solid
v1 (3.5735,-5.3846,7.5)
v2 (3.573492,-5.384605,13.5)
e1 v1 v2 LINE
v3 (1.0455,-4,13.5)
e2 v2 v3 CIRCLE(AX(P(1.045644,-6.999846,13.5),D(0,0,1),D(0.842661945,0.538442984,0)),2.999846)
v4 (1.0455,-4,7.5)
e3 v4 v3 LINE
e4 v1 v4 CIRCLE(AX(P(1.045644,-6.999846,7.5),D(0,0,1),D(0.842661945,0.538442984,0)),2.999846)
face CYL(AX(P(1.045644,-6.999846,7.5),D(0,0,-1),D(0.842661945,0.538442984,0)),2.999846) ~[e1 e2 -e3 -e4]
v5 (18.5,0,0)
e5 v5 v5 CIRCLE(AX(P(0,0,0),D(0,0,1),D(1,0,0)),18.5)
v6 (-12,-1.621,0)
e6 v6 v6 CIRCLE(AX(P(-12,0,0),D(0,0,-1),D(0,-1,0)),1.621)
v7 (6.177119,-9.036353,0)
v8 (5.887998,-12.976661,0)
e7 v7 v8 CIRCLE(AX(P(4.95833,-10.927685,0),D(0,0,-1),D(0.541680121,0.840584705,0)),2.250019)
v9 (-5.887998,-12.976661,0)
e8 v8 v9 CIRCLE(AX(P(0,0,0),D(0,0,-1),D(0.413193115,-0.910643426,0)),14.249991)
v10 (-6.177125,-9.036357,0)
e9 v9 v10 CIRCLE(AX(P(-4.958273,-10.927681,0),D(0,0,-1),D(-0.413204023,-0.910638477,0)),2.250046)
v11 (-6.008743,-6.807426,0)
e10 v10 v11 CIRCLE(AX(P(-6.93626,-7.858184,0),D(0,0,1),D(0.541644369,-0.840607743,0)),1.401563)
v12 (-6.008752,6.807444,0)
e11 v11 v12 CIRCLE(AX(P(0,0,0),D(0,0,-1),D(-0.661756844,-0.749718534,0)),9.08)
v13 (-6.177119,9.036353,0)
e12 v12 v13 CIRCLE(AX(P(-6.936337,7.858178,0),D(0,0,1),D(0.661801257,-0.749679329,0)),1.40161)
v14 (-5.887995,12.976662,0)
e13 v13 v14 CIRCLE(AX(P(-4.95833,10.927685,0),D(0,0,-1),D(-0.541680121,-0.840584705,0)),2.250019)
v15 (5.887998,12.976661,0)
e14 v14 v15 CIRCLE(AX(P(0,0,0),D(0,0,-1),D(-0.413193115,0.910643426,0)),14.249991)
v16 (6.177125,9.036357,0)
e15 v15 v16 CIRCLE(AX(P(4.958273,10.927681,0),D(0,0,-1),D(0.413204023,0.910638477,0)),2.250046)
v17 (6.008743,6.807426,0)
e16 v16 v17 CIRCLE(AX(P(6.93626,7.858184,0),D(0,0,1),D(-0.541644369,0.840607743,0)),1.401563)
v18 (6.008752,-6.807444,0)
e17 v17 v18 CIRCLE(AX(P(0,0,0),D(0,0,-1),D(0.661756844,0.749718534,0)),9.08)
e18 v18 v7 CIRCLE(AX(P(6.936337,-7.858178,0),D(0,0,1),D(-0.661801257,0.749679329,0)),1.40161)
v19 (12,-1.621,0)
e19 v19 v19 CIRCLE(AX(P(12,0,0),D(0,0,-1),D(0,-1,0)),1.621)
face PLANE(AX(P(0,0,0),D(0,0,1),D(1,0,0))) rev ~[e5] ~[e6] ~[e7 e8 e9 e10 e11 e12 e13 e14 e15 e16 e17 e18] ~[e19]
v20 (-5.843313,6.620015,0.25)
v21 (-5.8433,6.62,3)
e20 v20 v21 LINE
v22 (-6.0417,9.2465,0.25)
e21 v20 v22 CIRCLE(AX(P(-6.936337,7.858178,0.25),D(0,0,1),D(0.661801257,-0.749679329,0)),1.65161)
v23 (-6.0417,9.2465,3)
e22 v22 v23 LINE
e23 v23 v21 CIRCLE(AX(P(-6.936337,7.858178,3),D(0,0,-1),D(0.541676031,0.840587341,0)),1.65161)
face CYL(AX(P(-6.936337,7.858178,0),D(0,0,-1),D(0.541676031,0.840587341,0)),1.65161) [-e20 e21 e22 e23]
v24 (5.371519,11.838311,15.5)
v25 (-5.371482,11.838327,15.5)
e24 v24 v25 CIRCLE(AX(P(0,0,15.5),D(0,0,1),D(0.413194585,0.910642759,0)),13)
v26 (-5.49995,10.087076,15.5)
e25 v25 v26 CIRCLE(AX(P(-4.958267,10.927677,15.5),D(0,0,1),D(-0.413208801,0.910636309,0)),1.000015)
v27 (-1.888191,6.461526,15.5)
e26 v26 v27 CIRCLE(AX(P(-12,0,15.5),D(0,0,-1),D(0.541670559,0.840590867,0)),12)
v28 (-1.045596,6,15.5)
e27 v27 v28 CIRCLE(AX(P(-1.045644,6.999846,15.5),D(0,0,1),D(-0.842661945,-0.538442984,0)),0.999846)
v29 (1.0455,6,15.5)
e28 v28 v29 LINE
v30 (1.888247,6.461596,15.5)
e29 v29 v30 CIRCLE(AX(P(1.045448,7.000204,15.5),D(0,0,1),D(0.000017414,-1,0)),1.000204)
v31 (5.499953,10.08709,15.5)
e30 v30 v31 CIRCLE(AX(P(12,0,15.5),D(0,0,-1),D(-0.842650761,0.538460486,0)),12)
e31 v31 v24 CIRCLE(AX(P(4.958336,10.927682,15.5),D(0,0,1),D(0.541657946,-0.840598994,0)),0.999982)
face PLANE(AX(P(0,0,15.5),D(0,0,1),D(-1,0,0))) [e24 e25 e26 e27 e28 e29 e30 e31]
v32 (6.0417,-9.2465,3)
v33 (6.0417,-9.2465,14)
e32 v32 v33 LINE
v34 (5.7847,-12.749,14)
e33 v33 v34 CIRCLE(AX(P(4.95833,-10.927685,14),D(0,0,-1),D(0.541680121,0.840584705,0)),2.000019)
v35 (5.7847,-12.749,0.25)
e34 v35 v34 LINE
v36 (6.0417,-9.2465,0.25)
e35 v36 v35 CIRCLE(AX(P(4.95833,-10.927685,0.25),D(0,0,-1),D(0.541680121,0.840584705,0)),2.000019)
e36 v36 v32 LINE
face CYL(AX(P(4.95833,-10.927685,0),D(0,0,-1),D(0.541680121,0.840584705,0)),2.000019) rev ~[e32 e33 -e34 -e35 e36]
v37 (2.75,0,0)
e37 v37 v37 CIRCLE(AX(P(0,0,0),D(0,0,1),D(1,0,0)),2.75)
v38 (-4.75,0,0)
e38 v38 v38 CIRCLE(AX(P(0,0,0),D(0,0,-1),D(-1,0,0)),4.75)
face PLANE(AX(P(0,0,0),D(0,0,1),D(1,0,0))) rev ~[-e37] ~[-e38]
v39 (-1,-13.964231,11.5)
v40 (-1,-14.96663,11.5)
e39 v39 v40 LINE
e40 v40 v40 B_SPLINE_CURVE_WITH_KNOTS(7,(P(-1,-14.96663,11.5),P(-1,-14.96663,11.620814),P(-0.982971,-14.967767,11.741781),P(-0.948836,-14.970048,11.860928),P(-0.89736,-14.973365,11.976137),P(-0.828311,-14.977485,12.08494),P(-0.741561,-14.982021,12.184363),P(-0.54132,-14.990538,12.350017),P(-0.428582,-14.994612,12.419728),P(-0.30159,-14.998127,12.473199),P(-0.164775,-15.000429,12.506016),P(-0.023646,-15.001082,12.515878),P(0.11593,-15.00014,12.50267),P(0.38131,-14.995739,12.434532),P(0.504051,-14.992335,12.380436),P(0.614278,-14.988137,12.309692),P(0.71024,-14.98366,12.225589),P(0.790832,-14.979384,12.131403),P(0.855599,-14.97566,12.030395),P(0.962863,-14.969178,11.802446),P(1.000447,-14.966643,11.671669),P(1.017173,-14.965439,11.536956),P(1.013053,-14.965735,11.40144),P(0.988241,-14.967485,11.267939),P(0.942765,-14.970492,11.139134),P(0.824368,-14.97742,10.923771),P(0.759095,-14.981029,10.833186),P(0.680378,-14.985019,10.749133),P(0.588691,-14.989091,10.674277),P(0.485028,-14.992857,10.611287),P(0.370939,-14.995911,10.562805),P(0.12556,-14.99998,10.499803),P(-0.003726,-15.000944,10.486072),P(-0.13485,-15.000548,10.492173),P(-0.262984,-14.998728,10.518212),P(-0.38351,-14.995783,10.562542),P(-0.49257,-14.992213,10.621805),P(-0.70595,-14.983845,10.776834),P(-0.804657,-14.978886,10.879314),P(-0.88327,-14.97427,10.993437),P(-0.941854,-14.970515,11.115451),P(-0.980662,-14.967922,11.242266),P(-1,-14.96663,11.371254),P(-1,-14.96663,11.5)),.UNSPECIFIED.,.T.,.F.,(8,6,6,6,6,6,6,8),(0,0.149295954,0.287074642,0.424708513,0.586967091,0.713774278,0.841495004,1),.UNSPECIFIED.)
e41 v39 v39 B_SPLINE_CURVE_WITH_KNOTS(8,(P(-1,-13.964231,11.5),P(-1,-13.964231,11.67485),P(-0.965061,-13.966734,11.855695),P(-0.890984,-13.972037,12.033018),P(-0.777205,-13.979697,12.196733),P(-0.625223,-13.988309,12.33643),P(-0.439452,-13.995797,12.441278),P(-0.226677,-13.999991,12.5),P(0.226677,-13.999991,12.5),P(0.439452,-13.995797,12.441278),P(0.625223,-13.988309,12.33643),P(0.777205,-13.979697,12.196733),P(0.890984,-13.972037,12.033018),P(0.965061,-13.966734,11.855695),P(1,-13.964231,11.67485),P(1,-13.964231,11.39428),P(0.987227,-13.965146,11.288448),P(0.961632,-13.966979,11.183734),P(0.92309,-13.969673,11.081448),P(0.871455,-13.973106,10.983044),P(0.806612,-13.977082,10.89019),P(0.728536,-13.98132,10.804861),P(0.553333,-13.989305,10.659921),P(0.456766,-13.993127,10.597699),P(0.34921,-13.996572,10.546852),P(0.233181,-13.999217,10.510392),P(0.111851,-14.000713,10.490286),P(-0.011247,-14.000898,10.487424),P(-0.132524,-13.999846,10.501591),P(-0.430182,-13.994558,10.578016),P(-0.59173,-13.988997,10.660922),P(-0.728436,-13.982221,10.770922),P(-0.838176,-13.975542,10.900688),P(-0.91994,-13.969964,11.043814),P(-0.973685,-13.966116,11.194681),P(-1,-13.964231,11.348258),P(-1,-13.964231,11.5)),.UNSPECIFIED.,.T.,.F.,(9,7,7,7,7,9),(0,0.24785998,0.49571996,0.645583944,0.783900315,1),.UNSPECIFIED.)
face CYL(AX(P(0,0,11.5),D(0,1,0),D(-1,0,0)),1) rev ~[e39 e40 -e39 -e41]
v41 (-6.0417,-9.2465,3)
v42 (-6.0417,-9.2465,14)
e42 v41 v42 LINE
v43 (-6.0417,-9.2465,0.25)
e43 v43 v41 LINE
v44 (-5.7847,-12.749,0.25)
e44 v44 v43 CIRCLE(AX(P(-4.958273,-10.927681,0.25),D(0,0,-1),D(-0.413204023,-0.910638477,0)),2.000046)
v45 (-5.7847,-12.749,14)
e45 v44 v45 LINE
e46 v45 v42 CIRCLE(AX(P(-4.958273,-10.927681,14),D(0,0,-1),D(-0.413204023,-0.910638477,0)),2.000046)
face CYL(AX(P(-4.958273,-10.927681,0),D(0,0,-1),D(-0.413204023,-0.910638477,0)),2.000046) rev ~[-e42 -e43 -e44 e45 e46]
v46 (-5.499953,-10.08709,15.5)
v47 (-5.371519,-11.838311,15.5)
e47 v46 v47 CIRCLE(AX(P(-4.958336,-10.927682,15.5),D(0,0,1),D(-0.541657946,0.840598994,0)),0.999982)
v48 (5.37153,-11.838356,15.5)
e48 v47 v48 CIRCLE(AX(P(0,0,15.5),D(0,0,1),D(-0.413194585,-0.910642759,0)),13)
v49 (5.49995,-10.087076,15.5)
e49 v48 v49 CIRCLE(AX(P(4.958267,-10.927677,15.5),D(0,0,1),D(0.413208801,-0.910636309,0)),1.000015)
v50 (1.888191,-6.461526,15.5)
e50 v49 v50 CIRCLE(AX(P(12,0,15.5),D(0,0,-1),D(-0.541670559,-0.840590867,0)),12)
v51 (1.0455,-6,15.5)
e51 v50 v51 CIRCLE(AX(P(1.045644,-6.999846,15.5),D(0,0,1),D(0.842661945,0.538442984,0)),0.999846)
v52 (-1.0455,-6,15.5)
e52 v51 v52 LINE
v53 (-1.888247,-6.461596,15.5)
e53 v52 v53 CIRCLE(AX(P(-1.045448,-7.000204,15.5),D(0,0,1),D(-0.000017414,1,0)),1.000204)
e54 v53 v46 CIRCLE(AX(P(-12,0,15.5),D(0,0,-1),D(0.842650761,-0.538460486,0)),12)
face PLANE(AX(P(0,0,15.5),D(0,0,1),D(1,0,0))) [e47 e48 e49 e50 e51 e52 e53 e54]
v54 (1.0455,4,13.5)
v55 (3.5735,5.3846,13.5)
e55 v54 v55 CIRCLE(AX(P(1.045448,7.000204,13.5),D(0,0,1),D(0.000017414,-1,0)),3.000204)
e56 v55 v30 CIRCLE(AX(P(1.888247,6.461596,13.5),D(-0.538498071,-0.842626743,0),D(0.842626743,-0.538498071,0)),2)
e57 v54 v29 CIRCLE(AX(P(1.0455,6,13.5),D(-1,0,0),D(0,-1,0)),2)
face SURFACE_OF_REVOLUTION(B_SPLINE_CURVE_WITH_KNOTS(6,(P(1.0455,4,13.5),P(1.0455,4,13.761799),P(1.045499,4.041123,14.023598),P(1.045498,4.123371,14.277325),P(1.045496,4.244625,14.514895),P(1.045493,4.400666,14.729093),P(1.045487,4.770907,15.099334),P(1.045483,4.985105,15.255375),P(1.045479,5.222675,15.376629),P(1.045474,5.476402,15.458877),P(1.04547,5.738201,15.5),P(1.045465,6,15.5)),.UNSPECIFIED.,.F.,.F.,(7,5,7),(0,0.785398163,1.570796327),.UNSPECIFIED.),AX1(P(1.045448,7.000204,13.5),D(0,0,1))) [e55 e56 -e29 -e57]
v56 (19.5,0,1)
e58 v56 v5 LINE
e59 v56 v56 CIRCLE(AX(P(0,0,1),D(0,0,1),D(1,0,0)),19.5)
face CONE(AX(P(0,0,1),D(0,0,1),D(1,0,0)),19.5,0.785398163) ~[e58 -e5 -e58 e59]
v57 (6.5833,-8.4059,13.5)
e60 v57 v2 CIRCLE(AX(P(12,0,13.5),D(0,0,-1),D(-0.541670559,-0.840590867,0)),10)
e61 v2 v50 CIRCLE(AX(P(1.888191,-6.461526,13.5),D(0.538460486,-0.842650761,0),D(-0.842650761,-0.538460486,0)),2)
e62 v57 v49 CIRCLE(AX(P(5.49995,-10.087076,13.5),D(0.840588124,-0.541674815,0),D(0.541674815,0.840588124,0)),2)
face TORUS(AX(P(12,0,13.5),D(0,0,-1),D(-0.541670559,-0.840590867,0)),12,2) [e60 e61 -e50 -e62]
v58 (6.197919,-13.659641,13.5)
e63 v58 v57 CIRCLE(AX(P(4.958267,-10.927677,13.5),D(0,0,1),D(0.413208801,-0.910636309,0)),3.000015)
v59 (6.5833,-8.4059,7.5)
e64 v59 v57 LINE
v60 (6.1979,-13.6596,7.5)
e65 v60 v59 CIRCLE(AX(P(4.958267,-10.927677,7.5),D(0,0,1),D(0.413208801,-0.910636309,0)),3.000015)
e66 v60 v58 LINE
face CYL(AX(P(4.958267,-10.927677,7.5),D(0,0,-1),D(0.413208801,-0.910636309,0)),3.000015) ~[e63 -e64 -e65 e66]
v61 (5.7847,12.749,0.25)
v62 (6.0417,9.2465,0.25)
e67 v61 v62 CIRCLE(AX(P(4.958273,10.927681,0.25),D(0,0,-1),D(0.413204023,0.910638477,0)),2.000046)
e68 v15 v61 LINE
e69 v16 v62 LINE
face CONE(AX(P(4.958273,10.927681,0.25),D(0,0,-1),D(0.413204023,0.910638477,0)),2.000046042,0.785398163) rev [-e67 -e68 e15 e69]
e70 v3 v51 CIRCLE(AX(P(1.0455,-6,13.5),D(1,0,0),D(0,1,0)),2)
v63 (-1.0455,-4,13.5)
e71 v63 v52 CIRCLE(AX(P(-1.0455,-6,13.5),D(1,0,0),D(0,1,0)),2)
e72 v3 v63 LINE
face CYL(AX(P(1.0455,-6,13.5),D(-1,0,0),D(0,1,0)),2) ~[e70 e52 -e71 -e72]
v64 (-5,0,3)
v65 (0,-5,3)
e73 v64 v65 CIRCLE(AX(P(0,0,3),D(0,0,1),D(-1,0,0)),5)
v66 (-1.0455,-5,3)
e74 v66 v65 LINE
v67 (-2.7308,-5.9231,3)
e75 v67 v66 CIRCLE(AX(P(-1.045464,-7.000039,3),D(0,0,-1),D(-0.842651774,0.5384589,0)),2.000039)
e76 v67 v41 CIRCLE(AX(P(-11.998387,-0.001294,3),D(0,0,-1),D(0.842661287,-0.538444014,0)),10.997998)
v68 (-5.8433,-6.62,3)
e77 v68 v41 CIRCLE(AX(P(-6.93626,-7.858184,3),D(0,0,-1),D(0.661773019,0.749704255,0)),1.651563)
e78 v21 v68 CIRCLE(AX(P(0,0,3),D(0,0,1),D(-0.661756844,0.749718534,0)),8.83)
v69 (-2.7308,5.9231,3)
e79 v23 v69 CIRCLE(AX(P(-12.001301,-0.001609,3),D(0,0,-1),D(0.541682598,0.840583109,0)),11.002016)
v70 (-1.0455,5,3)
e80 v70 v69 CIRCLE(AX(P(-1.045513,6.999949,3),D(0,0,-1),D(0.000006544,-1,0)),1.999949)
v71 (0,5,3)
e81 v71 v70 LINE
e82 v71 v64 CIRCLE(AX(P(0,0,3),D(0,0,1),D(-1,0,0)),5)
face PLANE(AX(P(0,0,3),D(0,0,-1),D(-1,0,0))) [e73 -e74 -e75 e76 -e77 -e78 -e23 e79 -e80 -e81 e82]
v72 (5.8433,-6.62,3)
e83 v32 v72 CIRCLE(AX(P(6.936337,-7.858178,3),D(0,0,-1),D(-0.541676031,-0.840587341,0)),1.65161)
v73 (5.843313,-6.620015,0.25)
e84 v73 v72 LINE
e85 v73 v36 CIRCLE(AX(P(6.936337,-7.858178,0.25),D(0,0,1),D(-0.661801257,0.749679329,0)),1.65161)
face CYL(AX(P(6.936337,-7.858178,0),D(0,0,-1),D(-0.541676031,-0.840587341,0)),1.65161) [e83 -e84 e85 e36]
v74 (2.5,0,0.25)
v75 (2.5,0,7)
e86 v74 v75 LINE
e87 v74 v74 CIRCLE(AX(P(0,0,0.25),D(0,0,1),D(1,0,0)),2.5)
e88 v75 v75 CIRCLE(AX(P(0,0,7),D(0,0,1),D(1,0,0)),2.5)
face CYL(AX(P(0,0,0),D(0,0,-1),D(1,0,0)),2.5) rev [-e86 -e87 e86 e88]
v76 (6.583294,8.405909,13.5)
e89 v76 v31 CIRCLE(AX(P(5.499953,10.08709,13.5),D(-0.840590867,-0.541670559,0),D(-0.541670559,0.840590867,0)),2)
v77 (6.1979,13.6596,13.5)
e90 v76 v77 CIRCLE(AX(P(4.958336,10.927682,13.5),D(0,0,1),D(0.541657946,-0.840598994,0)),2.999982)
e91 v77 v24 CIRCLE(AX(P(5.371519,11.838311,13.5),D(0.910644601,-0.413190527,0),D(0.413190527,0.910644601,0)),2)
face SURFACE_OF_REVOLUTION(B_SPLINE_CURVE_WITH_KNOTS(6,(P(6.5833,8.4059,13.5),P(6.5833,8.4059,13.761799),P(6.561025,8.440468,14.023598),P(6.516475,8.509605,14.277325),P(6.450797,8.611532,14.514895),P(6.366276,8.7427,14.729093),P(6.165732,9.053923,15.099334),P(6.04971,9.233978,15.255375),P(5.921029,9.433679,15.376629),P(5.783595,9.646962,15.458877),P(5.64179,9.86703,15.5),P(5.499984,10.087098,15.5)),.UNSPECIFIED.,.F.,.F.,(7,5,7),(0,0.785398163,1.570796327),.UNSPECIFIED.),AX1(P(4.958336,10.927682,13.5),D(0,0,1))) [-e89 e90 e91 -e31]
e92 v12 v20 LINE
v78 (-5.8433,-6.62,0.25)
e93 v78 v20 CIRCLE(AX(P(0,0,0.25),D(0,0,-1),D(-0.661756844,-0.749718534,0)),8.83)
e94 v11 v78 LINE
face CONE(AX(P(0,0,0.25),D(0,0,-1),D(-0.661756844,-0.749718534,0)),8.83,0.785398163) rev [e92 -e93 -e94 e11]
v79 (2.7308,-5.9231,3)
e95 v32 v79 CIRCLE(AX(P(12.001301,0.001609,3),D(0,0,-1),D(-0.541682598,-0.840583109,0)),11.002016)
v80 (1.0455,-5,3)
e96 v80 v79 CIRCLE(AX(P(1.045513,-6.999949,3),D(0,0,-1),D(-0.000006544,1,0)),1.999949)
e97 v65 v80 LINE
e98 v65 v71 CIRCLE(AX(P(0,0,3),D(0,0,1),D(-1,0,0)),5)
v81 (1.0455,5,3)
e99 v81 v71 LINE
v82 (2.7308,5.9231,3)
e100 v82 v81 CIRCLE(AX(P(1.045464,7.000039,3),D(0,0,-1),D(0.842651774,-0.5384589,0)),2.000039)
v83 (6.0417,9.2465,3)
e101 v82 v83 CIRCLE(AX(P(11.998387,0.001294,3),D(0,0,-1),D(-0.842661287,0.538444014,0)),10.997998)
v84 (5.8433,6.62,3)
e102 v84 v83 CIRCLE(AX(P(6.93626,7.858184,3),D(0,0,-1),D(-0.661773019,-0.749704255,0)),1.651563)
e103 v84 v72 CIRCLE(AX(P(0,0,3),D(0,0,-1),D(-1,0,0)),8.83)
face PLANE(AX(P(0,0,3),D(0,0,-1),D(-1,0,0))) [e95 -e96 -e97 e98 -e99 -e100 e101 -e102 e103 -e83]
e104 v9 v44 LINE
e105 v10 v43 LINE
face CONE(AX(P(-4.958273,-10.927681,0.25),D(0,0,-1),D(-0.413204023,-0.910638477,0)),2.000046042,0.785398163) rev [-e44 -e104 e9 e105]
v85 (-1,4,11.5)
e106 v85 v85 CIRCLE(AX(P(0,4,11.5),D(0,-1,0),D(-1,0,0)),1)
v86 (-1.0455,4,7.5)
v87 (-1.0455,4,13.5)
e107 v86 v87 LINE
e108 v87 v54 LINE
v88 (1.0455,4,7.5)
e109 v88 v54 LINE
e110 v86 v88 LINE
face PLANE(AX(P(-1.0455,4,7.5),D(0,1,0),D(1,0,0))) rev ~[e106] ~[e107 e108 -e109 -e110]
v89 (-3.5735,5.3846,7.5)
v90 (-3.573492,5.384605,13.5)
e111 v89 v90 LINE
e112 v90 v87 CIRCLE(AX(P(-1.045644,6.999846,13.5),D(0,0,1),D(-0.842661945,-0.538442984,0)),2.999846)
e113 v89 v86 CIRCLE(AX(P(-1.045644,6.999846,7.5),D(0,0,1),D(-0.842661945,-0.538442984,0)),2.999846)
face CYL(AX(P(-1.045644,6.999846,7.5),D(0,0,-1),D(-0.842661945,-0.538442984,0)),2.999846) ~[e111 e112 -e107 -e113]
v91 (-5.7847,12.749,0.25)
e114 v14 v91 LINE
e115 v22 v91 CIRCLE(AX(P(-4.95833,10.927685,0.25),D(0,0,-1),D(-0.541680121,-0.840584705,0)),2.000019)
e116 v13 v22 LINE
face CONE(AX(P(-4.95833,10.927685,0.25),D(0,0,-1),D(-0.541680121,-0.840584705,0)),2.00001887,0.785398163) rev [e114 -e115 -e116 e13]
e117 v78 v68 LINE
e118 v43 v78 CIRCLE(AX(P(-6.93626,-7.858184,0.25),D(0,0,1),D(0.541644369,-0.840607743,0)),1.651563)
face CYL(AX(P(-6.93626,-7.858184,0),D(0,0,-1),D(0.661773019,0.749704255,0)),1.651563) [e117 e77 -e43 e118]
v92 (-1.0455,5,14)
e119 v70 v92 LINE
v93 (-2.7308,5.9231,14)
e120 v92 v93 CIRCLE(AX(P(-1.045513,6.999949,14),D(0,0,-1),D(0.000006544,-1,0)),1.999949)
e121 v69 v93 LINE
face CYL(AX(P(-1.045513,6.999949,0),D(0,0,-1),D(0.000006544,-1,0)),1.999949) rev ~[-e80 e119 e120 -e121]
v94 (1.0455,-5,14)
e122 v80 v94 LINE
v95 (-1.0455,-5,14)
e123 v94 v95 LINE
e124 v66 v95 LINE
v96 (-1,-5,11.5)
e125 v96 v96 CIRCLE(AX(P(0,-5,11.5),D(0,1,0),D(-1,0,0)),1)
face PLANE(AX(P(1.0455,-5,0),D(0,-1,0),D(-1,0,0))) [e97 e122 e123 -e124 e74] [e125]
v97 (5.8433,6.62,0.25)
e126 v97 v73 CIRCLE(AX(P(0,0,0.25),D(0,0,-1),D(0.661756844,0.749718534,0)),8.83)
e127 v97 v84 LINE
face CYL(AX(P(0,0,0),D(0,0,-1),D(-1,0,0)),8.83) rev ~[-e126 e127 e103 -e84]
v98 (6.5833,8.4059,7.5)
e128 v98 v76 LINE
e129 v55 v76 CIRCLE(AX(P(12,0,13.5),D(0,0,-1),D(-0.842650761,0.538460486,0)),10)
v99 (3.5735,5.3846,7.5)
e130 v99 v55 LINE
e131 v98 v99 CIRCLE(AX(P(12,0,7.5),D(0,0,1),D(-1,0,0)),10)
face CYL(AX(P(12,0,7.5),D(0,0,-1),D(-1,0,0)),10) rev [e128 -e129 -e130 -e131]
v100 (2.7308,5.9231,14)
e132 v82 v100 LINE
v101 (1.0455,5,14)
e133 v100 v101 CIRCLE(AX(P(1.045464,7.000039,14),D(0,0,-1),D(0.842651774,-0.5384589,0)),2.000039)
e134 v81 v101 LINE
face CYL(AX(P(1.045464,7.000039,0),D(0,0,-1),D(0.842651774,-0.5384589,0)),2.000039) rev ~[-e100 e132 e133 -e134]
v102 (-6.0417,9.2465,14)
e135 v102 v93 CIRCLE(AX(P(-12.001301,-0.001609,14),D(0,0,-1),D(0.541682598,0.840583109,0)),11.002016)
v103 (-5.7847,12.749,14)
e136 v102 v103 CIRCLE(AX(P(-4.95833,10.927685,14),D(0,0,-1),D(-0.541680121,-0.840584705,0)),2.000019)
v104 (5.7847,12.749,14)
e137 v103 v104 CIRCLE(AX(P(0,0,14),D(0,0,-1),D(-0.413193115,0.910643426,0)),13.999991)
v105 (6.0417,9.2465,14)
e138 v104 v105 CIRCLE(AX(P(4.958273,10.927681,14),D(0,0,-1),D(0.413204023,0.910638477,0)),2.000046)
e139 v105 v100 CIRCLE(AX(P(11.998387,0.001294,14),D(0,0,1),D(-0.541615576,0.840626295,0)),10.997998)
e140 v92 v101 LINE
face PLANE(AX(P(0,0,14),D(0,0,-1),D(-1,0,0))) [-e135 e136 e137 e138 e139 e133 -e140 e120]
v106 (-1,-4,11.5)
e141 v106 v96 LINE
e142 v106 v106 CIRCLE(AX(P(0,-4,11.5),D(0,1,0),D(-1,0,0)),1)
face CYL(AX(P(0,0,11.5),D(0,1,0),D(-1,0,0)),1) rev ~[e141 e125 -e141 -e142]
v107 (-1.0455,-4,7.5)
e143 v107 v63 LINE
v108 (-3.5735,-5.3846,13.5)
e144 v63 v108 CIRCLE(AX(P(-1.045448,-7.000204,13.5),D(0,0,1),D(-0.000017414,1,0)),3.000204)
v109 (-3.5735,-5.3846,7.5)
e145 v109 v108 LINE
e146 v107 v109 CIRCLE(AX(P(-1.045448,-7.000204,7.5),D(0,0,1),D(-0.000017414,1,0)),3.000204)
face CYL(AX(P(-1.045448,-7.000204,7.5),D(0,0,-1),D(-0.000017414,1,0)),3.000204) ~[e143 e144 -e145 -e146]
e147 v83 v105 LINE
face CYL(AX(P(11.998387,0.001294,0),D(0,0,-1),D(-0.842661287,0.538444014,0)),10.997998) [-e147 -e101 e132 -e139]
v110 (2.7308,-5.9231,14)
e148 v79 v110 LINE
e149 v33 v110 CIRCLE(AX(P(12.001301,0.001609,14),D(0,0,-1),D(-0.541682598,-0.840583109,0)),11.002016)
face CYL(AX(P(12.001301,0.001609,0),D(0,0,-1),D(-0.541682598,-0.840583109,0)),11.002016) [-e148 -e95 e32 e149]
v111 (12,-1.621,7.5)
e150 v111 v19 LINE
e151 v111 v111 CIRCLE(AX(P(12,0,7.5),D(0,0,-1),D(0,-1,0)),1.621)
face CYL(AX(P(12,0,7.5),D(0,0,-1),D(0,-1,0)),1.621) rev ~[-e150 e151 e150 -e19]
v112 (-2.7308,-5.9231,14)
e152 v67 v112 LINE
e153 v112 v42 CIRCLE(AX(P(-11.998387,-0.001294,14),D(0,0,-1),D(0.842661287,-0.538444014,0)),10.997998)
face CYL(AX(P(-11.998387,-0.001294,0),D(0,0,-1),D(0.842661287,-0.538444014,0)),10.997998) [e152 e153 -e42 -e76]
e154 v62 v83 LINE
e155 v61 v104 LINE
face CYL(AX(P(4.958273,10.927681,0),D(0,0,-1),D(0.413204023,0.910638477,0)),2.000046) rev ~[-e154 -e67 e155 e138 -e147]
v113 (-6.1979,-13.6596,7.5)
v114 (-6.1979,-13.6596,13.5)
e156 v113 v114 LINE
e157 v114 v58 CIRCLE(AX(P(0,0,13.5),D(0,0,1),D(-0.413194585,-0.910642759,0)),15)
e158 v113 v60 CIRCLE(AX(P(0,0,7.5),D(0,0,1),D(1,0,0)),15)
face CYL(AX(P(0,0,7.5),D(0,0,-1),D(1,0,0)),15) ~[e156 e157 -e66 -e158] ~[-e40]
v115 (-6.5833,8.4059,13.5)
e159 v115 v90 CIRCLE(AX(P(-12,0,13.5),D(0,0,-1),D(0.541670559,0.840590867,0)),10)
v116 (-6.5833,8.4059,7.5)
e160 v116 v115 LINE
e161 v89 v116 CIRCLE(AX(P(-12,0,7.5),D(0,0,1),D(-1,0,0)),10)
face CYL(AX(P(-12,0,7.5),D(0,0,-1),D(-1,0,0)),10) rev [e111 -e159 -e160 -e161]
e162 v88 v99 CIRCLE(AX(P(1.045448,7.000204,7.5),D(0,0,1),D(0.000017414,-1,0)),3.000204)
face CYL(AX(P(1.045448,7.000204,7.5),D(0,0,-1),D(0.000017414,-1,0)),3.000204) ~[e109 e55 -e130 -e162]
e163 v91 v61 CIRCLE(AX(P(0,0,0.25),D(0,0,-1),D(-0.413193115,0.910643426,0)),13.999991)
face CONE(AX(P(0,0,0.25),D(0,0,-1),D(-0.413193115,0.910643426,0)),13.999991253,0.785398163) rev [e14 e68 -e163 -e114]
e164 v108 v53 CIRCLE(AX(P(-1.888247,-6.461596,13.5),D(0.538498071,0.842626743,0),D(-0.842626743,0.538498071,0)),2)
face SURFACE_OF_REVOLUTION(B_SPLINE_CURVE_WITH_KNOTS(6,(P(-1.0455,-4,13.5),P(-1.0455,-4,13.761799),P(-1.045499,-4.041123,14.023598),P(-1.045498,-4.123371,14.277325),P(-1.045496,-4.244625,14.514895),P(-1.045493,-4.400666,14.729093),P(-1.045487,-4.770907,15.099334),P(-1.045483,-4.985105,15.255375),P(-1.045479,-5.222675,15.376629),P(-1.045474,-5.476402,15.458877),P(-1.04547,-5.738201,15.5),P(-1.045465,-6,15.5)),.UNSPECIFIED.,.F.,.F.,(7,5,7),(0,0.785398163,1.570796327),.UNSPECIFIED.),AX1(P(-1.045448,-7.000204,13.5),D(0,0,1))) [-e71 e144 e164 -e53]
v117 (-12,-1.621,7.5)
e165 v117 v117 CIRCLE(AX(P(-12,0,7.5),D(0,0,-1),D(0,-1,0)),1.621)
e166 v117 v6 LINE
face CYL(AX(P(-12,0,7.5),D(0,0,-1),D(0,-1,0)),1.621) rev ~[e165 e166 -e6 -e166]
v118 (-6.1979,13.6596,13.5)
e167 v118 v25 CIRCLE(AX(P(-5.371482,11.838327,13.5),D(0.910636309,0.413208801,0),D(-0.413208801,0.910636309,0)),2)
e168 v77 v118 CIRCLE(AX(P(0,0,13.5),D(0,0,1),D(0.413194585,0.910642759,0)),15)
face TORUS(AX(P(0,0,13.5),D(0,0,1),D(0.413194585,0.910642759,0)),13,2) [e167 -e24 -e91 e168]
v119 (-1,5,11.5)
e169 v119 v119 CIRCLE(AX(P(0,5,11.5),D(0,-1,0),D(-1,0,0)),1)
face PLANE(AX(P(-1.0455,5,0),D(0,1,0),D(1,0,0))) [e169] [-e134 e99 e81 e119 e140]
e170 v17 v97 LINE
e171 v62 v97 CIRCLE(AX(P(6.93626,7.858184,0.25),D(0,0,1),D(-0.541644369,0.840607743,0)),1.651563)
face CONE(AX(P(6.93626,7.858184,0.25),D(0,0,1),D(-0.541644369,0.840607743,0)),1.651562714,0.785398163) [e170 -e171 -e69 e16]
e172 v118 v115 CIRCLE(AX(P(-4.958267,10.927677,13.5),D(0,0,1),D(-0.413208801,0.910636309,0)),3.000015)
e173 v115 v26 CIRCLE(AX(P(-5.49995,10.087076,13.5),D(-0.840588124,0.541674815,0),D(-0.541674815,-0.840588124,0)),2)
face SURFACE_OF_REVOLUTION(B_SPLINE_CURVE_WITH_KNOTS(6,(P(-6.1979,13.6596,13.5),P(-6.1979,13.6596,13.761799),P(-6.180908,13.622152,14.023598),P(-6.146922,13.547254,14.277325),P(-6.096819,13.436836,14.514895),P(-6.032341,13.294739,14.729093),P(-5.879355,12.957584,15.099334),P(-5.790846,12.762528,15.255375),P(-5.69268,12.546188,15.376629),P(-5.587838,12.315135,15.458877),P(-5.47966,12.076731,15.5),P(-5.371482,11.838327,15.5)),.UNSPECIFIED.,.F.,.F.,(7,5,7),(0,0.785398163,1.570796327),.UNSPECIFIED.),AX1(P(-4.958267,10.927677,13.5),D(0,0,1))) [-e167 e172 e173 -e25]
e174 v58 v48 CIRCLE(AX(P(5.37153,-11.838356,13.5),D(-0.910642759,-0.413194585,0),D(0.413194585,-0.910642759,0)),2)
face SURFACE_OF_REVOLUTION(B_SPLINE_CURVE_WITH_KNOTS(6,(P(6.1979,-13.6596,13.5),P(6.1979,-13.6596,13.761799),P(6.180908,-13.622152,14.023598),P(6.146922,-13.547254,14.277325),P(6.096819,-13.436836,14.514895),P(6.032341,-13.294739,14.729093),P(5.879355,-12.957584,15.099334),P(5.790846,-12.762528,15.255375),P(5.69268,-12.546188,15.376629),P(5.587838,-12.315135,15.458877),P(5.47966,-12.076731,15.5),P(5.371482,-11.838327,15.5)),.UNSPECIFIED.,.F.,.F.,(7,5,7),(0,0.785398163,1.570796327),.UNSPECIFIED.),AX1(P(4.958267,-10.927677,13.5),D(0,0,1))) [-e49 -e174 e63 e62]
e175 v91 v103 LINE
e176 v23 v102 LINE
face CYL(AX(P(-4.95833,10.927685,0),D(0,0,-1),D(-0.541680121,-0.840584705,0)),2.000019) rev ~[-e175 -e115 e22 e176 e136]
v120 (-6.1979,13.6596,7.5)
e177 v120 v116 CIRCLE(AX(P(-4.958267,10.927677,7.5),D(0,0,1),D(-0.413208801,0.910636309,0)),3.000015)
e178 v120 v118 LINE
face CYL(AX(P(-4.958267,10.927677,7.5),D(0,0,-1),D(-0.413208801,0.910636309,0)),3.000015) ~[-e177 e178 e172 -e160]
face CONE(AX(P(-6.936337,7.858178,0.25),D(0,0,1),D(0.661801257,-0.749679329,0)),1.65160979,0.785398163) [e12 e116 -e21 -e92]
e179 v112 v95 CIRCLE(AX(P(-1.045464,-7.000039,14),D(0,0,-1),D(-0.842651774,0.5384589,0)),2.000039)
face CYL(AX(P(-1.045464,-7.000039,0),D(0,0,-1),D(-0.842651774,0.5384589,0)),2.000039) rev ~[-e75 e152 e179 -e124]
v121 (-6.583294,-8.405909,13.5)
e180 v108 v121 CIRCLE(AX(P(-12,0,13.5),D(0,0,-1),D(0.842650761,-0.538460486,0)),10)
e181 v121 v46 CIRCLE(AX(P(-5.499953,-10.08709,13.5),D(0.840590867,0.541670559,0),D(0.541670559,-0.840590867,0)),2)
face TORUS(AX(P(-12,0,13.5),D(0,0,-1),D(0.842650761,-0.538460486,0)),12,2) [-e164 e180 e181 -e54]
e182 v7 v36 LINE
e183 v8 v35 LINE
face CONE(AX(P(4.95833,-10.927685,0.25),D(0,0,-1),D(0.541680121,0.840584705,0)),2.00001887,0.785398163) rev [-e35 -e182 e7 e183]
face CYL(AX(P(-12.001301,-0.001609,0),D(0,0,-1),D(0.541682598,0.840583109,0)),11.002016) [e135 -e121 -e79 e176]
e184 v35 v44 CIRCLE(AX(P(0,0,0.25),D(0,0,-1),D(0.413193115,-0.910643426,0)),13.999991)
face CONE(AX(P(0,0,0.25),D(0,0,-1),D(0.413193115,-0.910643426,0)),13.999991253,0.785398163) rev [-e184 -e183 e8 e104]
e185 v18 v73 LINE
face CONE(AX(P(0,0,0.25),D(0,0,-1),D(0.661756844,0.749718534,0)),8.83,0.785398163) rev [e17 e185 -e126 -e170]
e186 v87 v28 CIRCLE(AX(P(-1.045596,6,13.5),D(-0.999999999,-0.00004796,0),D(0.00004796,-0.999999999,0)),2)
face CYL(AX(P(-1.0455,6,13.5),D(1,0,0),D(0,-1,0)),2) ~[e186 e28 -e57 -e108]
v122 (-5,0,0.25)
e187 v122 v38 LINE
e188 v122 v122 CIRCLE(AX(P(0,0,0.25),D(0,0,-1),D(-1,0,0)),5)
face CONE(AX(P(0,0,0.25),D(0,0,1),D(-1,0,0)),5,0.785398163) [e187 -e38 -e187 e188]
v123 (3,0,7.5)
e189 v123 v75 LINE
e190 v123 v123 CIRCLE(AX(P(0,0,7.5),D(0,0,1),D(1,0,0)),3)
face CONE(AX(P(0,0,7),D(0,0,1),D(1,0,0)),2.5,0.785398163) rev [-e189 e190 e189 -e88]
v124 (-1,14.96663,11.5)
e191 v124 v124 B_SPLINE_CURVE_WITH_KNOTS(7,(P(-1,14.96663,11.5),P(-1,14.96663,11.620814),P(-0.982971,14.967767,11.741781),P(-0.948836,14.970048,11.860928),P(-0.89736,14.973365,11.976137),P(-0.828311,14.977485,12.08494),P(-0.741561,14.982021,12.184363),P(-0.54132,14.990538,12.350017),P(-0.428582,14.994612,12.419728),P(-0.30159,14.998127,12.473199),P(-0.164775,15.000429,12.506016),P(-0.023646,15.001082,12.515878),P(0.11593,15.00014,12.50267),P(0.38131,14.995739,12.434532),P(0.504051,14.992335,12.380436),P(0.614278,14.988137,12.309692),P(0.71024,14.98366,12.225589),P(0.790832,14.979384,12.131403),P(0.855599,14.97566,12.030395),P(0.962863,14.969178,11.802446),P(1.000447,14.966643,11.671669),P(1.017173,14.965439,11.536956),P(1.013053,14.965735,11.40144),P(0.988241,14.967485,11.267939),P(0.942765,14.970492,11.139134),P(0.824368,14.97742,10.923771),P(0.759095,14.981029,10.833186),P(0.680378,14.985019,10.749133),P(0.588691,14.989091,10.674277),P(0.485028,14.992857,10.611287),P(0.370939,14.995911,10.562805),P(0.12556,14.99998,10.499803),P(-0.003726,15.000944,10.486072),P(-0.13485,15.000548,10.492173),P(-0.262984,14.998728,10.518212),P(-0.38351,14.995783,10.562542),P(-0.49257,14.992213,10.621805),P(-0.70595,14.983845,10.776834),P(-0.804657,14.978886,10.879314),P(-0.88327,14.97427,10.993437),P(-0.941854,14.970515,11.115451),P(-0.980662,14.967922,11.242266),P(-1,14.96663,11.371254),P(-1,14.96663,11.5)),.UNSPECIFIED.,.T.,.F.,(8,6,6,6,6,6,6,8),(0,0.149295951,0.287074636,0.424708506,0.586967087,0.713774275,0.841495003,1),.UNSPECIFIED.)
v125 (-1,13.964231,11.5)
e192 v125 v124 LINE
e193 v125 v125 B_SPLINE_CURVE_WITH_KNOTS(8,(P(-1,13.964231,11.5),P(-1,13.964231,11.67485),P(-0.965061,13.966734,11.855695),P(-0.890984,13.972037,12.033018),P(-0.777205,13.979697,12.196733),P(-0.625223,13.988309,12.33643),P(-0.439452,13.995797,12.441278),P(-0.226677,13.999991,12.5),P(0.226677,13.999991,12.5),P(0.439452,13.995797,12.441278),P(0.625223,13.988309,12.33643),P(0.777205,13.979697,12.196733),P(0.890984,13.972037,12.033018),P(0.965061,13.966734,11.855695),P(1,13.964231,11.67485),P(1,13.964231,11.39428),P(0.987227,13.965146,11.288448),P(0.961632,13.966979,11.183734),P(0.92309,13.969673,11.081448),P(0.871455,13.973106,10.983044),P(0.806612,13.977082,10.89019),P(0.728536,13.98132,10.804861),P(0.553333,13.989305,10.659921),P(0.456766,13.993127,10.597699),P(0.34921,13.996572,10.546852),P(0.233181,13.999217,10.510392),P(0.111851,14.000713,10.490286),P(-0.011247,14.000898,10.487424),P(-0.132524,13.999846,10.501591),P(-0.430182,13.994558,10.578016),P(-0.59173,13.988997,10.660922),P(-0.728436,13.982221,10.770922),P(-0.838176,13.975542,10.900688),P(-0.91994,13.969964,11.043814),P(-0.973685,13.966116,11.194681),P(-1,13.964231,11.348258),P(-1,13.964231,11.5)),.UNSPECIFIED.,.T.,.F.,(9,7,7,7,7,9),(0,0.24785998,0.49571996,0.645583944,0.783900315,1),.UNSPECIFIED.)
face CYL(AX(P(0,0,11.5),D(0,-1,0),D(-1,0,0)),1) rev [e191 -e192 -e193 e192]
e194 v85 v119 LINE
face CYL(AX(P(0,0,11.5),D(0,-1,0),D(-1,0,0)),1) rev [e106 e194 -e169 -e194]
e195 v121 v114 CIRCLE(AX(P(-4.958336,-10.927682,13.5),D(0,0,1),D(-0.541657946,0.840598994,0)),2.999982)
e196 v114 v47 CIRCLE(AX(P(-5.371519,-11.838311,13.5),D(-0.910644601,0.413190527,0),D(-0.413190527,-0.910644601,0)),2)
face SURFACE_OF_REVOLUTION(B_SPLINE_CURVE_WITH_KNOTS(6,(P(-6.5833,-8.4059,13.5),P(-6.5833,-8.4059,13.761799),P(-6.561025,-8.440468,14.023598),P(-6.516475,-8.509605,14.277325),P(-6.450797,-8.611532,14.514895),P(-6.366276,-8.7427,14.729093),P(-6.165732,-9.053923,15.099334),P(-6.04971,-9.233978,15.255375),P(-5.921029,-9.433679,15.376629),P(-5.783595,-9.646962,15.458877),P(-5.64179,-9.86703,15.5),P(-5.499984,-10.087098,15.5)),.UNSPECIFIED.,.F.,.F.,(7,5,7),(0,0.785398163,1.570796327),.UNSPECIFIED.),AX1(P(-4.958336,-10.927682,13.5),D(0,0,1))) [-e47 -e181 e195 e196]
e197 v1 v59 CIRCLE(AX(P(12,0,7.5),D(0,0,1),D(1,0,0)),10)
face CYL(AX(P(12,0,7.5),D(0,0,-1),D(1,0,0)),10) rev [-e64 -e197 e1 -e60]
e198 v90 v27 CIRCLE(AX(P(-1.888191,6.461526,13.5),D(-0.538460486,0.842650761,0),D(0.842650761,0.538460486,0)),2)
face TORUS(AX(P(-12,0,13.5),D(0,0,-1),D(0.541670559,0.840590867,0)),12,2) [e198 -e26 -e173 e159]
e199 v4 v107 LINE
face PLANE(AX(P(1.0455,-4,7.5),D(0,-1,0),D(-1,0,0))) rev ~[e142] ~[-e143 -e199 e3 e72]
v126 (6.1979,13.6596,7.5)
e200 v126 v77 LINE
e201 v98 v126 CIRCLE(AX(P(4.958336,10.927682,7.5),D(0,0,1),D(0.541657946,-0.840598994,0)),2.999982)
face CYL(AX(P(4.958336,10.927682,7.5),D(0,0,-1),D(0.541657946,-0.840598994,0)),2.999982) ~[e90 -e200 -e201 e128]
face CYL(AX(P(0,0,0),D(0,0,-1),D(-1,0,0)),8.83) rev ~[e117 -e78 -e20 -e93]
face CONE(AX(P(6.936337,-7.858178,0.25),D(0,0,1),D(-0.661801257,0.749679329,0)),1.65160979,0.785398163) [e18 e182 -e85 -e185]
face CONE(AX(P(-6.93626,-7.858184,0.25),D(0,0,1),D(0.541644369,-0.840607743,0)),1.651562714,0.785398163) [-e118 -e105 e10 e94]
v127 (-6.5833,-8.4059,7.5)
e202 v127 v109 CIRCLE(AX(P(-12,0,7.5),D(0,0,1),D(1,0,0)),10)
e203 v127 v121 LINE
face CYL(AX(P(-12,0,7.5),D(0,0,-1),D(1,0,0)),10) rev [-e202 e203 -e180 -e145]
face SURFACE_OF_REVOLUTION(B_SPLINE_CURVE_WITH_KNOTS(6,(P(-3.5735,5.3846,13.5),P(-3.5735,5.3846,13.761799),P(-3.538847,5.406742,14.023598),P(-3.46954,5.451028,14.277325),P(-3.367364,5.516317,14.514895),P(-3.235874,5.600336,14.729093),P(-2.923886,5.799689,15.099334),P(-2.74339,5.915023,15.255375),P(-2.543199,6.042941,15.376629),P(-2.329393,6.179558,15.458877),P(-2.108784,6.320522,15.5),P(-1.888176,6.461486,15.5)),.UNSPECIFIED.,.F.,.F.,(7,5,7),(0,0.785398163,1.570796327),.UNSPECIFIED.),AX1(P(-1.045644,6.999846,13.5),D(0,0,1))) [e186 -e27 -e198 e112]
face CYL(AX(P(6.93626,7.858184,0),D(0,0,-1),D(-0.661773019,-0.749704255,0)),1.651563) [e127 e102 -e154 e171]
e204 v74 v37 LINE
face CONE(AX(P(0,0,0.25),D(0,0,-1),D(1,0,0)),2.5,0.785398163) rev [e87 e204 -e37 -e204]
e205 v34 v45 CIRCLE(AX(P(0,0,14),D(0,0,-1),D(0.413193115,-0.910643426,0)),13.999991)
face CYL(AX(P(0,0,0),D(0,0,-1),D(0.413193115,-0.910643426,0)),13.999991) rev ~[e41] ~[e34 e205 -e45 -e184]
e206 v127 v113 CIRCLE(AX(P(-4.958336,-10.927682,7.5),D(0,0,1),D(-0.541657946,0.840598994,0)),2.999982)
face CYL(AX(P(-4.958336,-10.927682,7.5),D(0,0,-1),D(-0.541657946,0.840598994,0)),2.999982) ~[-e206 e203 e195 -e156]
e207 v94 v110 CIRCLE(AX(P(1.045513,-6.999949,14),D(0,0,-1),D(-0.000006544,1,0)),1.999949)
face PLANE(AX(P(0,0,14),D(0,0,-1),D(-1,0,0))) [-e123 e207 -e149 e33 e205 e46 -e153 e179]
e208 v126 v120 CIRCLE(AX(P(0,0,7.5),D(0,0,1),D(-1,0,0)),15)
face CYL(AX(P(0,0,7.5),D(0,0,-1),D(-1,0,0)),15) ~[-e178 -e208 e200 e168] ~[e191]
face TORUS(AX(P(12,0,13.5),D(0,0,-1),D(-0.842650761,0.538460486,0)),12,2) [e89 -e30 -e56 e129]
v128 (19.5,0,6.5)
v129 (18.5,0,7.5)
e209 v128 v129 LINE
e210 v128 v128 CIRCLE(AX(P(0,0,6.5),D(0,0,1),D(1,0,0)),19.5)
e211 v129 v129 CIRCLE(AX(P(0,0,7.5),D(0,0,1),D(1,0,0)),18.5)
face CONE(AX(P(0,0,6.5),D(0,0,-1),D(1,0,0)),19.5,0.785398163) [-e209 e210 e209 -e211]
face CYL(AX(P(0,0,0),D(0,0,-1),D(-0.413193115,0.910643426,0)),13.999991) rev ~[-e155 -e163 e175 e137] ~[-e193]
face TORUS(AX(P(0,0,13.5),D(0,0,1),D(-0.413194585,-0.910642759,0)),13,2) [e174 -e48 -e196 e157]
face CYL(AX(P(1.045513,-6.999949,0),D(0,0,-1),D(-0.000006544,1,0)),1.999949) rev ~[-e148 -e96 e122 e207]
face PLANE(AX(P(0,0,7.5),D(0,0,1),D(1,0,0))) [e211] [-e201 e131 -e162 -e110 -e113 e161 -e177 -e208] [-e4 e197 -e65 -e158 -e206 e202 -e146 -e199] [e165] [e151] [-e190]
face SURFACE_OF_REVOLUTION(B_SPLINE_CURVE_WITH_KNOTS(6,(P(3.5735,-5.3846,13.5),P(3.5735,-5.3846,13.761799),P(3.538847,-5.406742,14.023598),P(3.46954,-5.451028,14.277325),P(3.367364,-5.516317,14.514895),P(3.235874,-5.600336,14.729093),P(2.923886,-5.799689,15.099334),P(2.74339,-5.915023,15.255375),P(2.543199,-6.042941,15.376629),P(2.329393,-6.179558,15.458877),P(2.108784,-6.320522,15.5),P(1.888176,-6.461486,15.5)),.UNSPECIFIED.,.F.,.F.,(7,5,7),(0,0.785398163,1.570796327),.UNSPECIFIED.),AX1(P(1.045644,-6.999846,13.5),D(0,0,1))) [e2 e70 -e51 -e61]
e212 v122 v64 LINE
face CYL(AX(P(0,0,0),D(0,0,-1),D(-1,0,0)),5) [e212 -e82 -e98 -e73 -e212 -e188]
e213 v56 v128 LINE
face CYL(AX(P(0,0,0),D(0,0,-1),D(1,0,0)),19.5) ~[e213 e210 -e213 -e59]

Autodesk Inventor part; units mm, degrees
ref_plane "YZ Plane" through (0, 0, 0) normal (1, 0, 0) x (0, 1, 0)
ref_plane "XZ Plane" through (0, 0, 0) normal (0, 1, 0) x (-1, 0, 0)
ref_plane "XY Plane" through (0, 0, 0) normal (0, 0, 1) x (1, 0, 0)
sketch "Sketch1" plane through (0, 0, 0) normal (0, 0, 1) x (1, 0, 0)
  circle A0 centre (0, 0) radius 19.5
  circle A1 centre (0, 0) radius 2.5
  dimension "d0" = 39
  dimension "d1" = 5
extrude "Extrusion1" add sketch "Sketch1" along normal blind 7.5
sketch "Sketch2" plane through (0, 0, 7.5) normal (0, 0, 1) x (1, 0, 0)
  point P0 (0, 0)
  point P1 (12, 0)
  point P2 (-12, 0)
  dimension "d4" = 12
  dimension "d5" = 12
hole "Hole1" at (12, 0, 7.5) at (-12, 0, 7.5) direction (0, 0, -1) diameter 3.242 end through all thread size "M4x0.7" class "6H" standard "ISO Metric profile"
chamfer "Chamfer1" distance 1 angle 45 1 edges at (-19.5, 0, 7.5)
sketch "Sketch5" plane through (0, 0, 7.5) normal (0, 0, 1) x (1, 0, 0)
  circle A0 centre (12, 0) radius 1.621 projected
  circle A1 centre (-12, 0) radius 1.621 projected
  circle A2 centre (12, 0) radius 10
  circle A3 centre (-12, 0) radius 10
  line L0 (2.8348, -4) -> (-2.8348, -4)
  line L1 (2.8348, 4) -> (-2.8348, 4)
  circle A4 centre (0, 0) radius 18.5 projected
  circle A5 centre (0, 0) radius 15
  arc A6 (6.1979, -13.6596) -> (6.5833, -8.4059) centre (4.9583, -10.9277) ccw
  arc A7 (-6.5833, -8.4059) -> (-6.1979, -13.6596) centre (-4.9583, -10.9277) ccw
  arc A8 (-1.0455, -4) -> (-3.5735, -5.3846) centre (-1.0455, -7) ccw
  arc A9 (3.5735, -5.3846) -> (1.0455, -4) centre (1.0455, -7) ccw
  point P0 (0, -4)
  point P1 (0, 4)
  dimension "d26" = 20
  dimension "d27" = 4
  dimension "d28" = 4
  dimension "d29" = 30
  dimension "d30" = 3
  dimension "d31" = 3
extrude "Extrusion2" add sketch "Sketch5" along normal blind 8 contours A2 A6 A5 A7 A3 A8 L0 A9
pattern_circular "Circular Pattern1" count 2 over 360 about axis through (0, 0, 0) along (0, 0, 1) of "Extrusion2"
sketch "Sketch6" plane through (0, 0, 0) normal (0, 1, 0) x (-1, 0, 0)
  circle A0 centre (0, 11.5) radius 1
  line L0 (1.0455, 7.5) -> (1.0455, 15.5) projected
  point P0 (0, 0)
  point P1 (1.0455, 11.5)
  dimension "d37" = 2
extrude "Extrusion3" cut sketch "Sketch6" along normal through all both and the other way through all
fillet "Fillet2" radius 2 16 edges at (-7.9503, 11.1472, 15.5) (-4.9155, 7.0576, 15.5) (-2.4867, 4.3688, 15.5) (0, 4, 15.5) (2.4867, 4.3688, 15.5) (4.9155, 7.0576, 15.5) (7.9503, 11.1472, 15.5) (0, 15, 15.5) (0, -4, 15.5) (-2.4867, -4.3688, 15.5) (-4.9155, -7.0576, 15.5) (-7.9503, -11.1472, 15.5) (0, -15, 15.5) (7.9503, -11.1472, 15.5) (4.9155, -7.0576, 15.5) (2.4867, -4.3688, 15.5)
sketch "Sketch7" plane through (0, 0, 0) normal (0, 0, -1) x (-1, 0, 0)
  arc A0 (1.0455, 4) -> (3.5735, 5.3846) centre (1.0455, 7) ccw projected
  arc A1 (6.5833, 8.4059) -> (3.5735, 5.3846) centre (12, 0) ccw projected
  arc A2 (6.5833, 8.4059) -> (6.1979, 13.6596) centre (4.9583, 10.9277) ccw projected
  arc A3 (6.1979, 13.6596) -> (-6.1979, 13.6596) centre (0, 0) ccw projected
  arc A4 (-6.1979, 13.6596) -> (-6.5833, 8.4059) centre (-4.9583, 10.9277) ccw projected
  arc A5 (-3.5735, 5.3846) -> (-6.5833, 8.4059) centre (-12, 0) ccw projected
  arc A6 (-3.5735, 5.3846) -> (-1.0455, 4) centre (-1.0455, 7) ccw projected
  line L0 (-1.0455, 4) -> (1.0455, 4) projected
  arc A7 (-1.0455, -4) -> (-3.5735, -5.3846) centre (-1.0455, -7) ccw projected
  arc A8 (-6.5833, -8.4059) -> (-3.5735, -5.3846) centre (-12, 0) ccw projected
  arc A9 (-6.5833, -8.4059) -> (-6.1979, -13.6596) centre (-4.9583, -10.9277) ccw projected
  arc A10 (-6.1979, -13.6596) -> (6.1979, -13.6596) centre (0, 0) ccw projected
  arc A11 (6.1979, -13.6596) -> (6.5833, -8.4059) centre (4.9583, -10.9277) ccw projected
  arc A12 (3.5735, -5.3846) -> (6.5833, -8.4059) centre (12, 0) ccw projected
  arc A13 (3.5735, -5.3846) -> (1.0455, -4) centre (1.0455, -7) ccw projected
  line L1 (1.0455, -4) -> (-1.0455, -4) projected
  circle A14 centre (0, 0) radius 2.5 projected
  circle A15 centre (12, 0) radius 1.621 projected
  circle A16 centre (-12, 0) radius 1.621 projected
  circle A17 centre (0, 0) radius 18.5 projected
  arc A18 (5.7847, 12.749) -> (-5.7847, 12.749) centre (0, 0) ccw
  arc A19 (6.0417, 9.2465) -> (5.7847, 12.749) centre (4.9583, 10.9277) ccw
  arc A20 (6.0417, 9.2465) -> (2.7308, 5.9231) centre (12, 0) ccw
  arc A21 (1.0455, 5) -> (2.7308, 5.9231) centre (1.0455, 7) ccw
  line L2 (1.0455, 5) -> (-1.0455, 5)
  arc A22 (-2.7308, 5.9231) -> (-1.0455, 5) centre (-1.0455, 7) ccw
  arc A23 (-2.7308, 5.9231) -> (-6.0417, 9.2465) centre (-12, 0) ccw
  arc A24 (-5.7847, 12.749) -> (-6.0417, 9.2465) centre (-4.9583, 10.9277) ccw
  arc A25 (-1.0455, -5) -> (-2.7308, -5.9231) centre (-1.0455, -7) ccw
  line L3 (-1.0455, -5) -> (1.0455, -5)
  arc A26 (2.7308, -5.9231) -> (1.0455, -5) centre (1.0455, -7) ccw
  arc A27 (2.7308, -5.9231) -> (6.0417, -9.2465) centre (12, 0) ccw
  arc A28 (5.7847, -12.749) -> (6.0417, -9.2465) centre (4.9583, -10.9277) ccw
  arc A29 (-5.7847, -12.749) -> (5.7847, -12.749) centre (0, 0) ccw
  arc A30 (-6.0417, -9.2465) -> (-5.7847, -12.749) centre (-4.9583, -10.9277) ccw
  arc A31 (-6.0417, -9.2465) -> (-2.7308, -5.9231) centre (-12, 0) ccw
  line L4 (-4.207, 7.7633) -> (4.207, 7.7633)
  line L5 (-4.207, -7.7633) -> (4.207, -7.7633)
  line L6 (-1.0455, 4) -> (-1.0455, 6) projected
  dimension "d41" = 1
  dimension "d42" = 1
extrude "Extrusion4" cut sketch "Sketch7" against normal blind 14 contours A22 A23 L4 A20 A21 L2 | A23 A24 A18 A19 A20 L4 | L3 A26 A27 L5 A31 A25 | L5 A27 A28 A29 A30 A31
sketch "Sketch8" plane through (0, 0, 0) normal (0, 0, -1) x (-1, 0, 0)
  arc A0 (2.7308, -5.9231) -> (6.0417, -9.2465) centre (12, 0) ccw projected
  arc A1 (5.7847, -12.749) -> (6.0417, -9.2465) centre (4.9583, -10.9277) ccw projected
  arc A2 (-5.7847, -12.749) -> (5.7847, -12.749) centre (0, 0) ccw projected
  arc A3 (-6.0417, -9.2465) -> (-5.7847, -12.749) centre (-4.9583, -10.9277) ccw projected
  arc A4 (-6.0417, -9.2465) -> (-2.7308, -5.9231) centre (-12, 0) ccw projected
  arc A5 (-2.7308, 5.9231) -> (-6.0417, 9.2465) centre (-12, 0) ccw projected
  arc A6 (-5.7847, 12.749) -> (-6.0417, 9.2465) centre (-4.9583, 10.9277) ccw projected
  arc A7 (5.7847, 12.749) -> (-5.7847, 12.749) centre (0, 0) ccw projected
  arc A8 (6.0417, 9.2465) -> (5.7847, 12.749) centre (4.9583, 10.9277) ccw projected
  arc A9 (6.0417, 9.2465) -> (2.7308, 5.9231) centre (12, 0) ccw projected
  circle A10 centre (-12, 0) radius 1.621 projected
  circle A11 centre (12, 0) radius 1.621 projected
  circle A12 centre (0, 0) radius 19.5 projected
  circle A13 centre (0, 0) radius 2.5 projected
  circle A14 centre (0, 0) radius 5
  circle A15 centre (0, 0) radius 8.83
  arc A16 (-4.207, 7.7633) -> (-6.0417, 9.2465) centre (-12, 0) ccw projected
  arc A17 (-5.8433, 6.62) -> (-6.0417, 9.2465) centre (-6.9363, 7.8582) ccw
  arc A18 (6.0417, 9.2465) -> (4.207, 7.7633) centre (12, 0) ccw projected
  arc A19 (6.0417, 9.2465) -> (5.8433, 6.62) centre (6.9363, 7.8582) ccw
  arc A20 (-6.0417, -9.2465) -> (-4.207, -7.7633) centre (-12, 0) ccw projected
  arc A21 (-6.0417, -9.2465) -> (-5.8433, -6.62) centre (-6.9363, -7.8582) ccw
  arc A22 (5.8433, -6.62) -> (6.0417, -9.2465) centre (6.9363, -7.8582) ccw
  arc A23 (-6.0417, -9.2465) -> (-5.7847, -12.749) centre (-4.9583, -10.9277) ccw projected
  arc A24 (2.7308, -5.9231) -> (1.0455, -5) centre (1.0455, -7) ccw projected
  arc A25 (-1.0455, -5) -> (-2.7308, -5.9231) centre (-1.0455, -7) ccw projected
  line L0 (-1.0455, -5) -> (1.0455, -5) projected
  arc A26 (-2.7308, 5.9231) -> (-1.0455, 5) centre (-1.0455, 7) ccw projected
  arc A27 (1.0455, 5) -> (2.7308, 5.9231) centre (1.0455, 7) ccw projected
  line L1 (1.0455, 5) -> (-1.0455, 5) projected
  point P0 (-4.207, -7.7633)
  point P1 (4.207, -7.7633)
  point P2 (-4.207, 7.7633)
  point P3 (4.207, 7.7633)
  dimension "d45" = 10
extrude "Extrusion5" cut sketch "Sketch8" against normal blind 3 contours A24 L0 A14 L1 A27 A9 A15 A0 | A0 A15 A4 A25 L0 A24 | A15 A22 A0 | A15 A5 A26 L1 A14 L0 A25 A4 | A4 A21 A15 | L1 A26 A5 A15 A9 A27 | A17 A5 A15 | A15 A9 A19
sketch "Sketch9" plane through (0, 0, 0) normal (0, 0, -1) x (-1, 0, 0)
  line L0 (0, 6) -> (0, -6) construction
  line L1 (-0.75, 6) -> (-0.75, -6)
  line L2 (0.75, -6) -> (0.75, 6)
  arc A0 (0.75, 6) -> (-0.75, 6) centre (0, 6) ccw
  arc A1 (-0.75, -6) -> (0.75, -6) centre (0, -6) ccw
  point P0 (0, 0)
  dimension "d49" = 6
  dimension "d50" = 1.5
extrude "Extrusion6" [suppressed]
chamfer "Chamfer2" distance 0.5 angle 45 1 edges at (-2.5, 0, 7.5)
chamfer "Chamfer3" distance 1 angle 45 1 edges at (-19.5, 0, 0)
chamfer "Chamfer4" distance 0.25 angle 45 14 edges at (0, -14, 0) (6.953, -11.074, 0) (5.2894, -7.9826, 0) (8.83, 0, 0) (5.2894, 7.9826, 0) (6.953, 11.074, 0) (0, 14, 0) (-6.953, 11.074, 0) (-5.2894, 7.9826, 0) (-8.83, 0, 0) (-5.2894, -7.9826, 0) (-6.953, -11.074, 0) (5, 0, 0) (-2.5, 0, 0)
equation "\"d5\" = d4"
equation "\"d28\" = d27"
properties part number "TorquimeterDisk" material "Aluminum 6061"
